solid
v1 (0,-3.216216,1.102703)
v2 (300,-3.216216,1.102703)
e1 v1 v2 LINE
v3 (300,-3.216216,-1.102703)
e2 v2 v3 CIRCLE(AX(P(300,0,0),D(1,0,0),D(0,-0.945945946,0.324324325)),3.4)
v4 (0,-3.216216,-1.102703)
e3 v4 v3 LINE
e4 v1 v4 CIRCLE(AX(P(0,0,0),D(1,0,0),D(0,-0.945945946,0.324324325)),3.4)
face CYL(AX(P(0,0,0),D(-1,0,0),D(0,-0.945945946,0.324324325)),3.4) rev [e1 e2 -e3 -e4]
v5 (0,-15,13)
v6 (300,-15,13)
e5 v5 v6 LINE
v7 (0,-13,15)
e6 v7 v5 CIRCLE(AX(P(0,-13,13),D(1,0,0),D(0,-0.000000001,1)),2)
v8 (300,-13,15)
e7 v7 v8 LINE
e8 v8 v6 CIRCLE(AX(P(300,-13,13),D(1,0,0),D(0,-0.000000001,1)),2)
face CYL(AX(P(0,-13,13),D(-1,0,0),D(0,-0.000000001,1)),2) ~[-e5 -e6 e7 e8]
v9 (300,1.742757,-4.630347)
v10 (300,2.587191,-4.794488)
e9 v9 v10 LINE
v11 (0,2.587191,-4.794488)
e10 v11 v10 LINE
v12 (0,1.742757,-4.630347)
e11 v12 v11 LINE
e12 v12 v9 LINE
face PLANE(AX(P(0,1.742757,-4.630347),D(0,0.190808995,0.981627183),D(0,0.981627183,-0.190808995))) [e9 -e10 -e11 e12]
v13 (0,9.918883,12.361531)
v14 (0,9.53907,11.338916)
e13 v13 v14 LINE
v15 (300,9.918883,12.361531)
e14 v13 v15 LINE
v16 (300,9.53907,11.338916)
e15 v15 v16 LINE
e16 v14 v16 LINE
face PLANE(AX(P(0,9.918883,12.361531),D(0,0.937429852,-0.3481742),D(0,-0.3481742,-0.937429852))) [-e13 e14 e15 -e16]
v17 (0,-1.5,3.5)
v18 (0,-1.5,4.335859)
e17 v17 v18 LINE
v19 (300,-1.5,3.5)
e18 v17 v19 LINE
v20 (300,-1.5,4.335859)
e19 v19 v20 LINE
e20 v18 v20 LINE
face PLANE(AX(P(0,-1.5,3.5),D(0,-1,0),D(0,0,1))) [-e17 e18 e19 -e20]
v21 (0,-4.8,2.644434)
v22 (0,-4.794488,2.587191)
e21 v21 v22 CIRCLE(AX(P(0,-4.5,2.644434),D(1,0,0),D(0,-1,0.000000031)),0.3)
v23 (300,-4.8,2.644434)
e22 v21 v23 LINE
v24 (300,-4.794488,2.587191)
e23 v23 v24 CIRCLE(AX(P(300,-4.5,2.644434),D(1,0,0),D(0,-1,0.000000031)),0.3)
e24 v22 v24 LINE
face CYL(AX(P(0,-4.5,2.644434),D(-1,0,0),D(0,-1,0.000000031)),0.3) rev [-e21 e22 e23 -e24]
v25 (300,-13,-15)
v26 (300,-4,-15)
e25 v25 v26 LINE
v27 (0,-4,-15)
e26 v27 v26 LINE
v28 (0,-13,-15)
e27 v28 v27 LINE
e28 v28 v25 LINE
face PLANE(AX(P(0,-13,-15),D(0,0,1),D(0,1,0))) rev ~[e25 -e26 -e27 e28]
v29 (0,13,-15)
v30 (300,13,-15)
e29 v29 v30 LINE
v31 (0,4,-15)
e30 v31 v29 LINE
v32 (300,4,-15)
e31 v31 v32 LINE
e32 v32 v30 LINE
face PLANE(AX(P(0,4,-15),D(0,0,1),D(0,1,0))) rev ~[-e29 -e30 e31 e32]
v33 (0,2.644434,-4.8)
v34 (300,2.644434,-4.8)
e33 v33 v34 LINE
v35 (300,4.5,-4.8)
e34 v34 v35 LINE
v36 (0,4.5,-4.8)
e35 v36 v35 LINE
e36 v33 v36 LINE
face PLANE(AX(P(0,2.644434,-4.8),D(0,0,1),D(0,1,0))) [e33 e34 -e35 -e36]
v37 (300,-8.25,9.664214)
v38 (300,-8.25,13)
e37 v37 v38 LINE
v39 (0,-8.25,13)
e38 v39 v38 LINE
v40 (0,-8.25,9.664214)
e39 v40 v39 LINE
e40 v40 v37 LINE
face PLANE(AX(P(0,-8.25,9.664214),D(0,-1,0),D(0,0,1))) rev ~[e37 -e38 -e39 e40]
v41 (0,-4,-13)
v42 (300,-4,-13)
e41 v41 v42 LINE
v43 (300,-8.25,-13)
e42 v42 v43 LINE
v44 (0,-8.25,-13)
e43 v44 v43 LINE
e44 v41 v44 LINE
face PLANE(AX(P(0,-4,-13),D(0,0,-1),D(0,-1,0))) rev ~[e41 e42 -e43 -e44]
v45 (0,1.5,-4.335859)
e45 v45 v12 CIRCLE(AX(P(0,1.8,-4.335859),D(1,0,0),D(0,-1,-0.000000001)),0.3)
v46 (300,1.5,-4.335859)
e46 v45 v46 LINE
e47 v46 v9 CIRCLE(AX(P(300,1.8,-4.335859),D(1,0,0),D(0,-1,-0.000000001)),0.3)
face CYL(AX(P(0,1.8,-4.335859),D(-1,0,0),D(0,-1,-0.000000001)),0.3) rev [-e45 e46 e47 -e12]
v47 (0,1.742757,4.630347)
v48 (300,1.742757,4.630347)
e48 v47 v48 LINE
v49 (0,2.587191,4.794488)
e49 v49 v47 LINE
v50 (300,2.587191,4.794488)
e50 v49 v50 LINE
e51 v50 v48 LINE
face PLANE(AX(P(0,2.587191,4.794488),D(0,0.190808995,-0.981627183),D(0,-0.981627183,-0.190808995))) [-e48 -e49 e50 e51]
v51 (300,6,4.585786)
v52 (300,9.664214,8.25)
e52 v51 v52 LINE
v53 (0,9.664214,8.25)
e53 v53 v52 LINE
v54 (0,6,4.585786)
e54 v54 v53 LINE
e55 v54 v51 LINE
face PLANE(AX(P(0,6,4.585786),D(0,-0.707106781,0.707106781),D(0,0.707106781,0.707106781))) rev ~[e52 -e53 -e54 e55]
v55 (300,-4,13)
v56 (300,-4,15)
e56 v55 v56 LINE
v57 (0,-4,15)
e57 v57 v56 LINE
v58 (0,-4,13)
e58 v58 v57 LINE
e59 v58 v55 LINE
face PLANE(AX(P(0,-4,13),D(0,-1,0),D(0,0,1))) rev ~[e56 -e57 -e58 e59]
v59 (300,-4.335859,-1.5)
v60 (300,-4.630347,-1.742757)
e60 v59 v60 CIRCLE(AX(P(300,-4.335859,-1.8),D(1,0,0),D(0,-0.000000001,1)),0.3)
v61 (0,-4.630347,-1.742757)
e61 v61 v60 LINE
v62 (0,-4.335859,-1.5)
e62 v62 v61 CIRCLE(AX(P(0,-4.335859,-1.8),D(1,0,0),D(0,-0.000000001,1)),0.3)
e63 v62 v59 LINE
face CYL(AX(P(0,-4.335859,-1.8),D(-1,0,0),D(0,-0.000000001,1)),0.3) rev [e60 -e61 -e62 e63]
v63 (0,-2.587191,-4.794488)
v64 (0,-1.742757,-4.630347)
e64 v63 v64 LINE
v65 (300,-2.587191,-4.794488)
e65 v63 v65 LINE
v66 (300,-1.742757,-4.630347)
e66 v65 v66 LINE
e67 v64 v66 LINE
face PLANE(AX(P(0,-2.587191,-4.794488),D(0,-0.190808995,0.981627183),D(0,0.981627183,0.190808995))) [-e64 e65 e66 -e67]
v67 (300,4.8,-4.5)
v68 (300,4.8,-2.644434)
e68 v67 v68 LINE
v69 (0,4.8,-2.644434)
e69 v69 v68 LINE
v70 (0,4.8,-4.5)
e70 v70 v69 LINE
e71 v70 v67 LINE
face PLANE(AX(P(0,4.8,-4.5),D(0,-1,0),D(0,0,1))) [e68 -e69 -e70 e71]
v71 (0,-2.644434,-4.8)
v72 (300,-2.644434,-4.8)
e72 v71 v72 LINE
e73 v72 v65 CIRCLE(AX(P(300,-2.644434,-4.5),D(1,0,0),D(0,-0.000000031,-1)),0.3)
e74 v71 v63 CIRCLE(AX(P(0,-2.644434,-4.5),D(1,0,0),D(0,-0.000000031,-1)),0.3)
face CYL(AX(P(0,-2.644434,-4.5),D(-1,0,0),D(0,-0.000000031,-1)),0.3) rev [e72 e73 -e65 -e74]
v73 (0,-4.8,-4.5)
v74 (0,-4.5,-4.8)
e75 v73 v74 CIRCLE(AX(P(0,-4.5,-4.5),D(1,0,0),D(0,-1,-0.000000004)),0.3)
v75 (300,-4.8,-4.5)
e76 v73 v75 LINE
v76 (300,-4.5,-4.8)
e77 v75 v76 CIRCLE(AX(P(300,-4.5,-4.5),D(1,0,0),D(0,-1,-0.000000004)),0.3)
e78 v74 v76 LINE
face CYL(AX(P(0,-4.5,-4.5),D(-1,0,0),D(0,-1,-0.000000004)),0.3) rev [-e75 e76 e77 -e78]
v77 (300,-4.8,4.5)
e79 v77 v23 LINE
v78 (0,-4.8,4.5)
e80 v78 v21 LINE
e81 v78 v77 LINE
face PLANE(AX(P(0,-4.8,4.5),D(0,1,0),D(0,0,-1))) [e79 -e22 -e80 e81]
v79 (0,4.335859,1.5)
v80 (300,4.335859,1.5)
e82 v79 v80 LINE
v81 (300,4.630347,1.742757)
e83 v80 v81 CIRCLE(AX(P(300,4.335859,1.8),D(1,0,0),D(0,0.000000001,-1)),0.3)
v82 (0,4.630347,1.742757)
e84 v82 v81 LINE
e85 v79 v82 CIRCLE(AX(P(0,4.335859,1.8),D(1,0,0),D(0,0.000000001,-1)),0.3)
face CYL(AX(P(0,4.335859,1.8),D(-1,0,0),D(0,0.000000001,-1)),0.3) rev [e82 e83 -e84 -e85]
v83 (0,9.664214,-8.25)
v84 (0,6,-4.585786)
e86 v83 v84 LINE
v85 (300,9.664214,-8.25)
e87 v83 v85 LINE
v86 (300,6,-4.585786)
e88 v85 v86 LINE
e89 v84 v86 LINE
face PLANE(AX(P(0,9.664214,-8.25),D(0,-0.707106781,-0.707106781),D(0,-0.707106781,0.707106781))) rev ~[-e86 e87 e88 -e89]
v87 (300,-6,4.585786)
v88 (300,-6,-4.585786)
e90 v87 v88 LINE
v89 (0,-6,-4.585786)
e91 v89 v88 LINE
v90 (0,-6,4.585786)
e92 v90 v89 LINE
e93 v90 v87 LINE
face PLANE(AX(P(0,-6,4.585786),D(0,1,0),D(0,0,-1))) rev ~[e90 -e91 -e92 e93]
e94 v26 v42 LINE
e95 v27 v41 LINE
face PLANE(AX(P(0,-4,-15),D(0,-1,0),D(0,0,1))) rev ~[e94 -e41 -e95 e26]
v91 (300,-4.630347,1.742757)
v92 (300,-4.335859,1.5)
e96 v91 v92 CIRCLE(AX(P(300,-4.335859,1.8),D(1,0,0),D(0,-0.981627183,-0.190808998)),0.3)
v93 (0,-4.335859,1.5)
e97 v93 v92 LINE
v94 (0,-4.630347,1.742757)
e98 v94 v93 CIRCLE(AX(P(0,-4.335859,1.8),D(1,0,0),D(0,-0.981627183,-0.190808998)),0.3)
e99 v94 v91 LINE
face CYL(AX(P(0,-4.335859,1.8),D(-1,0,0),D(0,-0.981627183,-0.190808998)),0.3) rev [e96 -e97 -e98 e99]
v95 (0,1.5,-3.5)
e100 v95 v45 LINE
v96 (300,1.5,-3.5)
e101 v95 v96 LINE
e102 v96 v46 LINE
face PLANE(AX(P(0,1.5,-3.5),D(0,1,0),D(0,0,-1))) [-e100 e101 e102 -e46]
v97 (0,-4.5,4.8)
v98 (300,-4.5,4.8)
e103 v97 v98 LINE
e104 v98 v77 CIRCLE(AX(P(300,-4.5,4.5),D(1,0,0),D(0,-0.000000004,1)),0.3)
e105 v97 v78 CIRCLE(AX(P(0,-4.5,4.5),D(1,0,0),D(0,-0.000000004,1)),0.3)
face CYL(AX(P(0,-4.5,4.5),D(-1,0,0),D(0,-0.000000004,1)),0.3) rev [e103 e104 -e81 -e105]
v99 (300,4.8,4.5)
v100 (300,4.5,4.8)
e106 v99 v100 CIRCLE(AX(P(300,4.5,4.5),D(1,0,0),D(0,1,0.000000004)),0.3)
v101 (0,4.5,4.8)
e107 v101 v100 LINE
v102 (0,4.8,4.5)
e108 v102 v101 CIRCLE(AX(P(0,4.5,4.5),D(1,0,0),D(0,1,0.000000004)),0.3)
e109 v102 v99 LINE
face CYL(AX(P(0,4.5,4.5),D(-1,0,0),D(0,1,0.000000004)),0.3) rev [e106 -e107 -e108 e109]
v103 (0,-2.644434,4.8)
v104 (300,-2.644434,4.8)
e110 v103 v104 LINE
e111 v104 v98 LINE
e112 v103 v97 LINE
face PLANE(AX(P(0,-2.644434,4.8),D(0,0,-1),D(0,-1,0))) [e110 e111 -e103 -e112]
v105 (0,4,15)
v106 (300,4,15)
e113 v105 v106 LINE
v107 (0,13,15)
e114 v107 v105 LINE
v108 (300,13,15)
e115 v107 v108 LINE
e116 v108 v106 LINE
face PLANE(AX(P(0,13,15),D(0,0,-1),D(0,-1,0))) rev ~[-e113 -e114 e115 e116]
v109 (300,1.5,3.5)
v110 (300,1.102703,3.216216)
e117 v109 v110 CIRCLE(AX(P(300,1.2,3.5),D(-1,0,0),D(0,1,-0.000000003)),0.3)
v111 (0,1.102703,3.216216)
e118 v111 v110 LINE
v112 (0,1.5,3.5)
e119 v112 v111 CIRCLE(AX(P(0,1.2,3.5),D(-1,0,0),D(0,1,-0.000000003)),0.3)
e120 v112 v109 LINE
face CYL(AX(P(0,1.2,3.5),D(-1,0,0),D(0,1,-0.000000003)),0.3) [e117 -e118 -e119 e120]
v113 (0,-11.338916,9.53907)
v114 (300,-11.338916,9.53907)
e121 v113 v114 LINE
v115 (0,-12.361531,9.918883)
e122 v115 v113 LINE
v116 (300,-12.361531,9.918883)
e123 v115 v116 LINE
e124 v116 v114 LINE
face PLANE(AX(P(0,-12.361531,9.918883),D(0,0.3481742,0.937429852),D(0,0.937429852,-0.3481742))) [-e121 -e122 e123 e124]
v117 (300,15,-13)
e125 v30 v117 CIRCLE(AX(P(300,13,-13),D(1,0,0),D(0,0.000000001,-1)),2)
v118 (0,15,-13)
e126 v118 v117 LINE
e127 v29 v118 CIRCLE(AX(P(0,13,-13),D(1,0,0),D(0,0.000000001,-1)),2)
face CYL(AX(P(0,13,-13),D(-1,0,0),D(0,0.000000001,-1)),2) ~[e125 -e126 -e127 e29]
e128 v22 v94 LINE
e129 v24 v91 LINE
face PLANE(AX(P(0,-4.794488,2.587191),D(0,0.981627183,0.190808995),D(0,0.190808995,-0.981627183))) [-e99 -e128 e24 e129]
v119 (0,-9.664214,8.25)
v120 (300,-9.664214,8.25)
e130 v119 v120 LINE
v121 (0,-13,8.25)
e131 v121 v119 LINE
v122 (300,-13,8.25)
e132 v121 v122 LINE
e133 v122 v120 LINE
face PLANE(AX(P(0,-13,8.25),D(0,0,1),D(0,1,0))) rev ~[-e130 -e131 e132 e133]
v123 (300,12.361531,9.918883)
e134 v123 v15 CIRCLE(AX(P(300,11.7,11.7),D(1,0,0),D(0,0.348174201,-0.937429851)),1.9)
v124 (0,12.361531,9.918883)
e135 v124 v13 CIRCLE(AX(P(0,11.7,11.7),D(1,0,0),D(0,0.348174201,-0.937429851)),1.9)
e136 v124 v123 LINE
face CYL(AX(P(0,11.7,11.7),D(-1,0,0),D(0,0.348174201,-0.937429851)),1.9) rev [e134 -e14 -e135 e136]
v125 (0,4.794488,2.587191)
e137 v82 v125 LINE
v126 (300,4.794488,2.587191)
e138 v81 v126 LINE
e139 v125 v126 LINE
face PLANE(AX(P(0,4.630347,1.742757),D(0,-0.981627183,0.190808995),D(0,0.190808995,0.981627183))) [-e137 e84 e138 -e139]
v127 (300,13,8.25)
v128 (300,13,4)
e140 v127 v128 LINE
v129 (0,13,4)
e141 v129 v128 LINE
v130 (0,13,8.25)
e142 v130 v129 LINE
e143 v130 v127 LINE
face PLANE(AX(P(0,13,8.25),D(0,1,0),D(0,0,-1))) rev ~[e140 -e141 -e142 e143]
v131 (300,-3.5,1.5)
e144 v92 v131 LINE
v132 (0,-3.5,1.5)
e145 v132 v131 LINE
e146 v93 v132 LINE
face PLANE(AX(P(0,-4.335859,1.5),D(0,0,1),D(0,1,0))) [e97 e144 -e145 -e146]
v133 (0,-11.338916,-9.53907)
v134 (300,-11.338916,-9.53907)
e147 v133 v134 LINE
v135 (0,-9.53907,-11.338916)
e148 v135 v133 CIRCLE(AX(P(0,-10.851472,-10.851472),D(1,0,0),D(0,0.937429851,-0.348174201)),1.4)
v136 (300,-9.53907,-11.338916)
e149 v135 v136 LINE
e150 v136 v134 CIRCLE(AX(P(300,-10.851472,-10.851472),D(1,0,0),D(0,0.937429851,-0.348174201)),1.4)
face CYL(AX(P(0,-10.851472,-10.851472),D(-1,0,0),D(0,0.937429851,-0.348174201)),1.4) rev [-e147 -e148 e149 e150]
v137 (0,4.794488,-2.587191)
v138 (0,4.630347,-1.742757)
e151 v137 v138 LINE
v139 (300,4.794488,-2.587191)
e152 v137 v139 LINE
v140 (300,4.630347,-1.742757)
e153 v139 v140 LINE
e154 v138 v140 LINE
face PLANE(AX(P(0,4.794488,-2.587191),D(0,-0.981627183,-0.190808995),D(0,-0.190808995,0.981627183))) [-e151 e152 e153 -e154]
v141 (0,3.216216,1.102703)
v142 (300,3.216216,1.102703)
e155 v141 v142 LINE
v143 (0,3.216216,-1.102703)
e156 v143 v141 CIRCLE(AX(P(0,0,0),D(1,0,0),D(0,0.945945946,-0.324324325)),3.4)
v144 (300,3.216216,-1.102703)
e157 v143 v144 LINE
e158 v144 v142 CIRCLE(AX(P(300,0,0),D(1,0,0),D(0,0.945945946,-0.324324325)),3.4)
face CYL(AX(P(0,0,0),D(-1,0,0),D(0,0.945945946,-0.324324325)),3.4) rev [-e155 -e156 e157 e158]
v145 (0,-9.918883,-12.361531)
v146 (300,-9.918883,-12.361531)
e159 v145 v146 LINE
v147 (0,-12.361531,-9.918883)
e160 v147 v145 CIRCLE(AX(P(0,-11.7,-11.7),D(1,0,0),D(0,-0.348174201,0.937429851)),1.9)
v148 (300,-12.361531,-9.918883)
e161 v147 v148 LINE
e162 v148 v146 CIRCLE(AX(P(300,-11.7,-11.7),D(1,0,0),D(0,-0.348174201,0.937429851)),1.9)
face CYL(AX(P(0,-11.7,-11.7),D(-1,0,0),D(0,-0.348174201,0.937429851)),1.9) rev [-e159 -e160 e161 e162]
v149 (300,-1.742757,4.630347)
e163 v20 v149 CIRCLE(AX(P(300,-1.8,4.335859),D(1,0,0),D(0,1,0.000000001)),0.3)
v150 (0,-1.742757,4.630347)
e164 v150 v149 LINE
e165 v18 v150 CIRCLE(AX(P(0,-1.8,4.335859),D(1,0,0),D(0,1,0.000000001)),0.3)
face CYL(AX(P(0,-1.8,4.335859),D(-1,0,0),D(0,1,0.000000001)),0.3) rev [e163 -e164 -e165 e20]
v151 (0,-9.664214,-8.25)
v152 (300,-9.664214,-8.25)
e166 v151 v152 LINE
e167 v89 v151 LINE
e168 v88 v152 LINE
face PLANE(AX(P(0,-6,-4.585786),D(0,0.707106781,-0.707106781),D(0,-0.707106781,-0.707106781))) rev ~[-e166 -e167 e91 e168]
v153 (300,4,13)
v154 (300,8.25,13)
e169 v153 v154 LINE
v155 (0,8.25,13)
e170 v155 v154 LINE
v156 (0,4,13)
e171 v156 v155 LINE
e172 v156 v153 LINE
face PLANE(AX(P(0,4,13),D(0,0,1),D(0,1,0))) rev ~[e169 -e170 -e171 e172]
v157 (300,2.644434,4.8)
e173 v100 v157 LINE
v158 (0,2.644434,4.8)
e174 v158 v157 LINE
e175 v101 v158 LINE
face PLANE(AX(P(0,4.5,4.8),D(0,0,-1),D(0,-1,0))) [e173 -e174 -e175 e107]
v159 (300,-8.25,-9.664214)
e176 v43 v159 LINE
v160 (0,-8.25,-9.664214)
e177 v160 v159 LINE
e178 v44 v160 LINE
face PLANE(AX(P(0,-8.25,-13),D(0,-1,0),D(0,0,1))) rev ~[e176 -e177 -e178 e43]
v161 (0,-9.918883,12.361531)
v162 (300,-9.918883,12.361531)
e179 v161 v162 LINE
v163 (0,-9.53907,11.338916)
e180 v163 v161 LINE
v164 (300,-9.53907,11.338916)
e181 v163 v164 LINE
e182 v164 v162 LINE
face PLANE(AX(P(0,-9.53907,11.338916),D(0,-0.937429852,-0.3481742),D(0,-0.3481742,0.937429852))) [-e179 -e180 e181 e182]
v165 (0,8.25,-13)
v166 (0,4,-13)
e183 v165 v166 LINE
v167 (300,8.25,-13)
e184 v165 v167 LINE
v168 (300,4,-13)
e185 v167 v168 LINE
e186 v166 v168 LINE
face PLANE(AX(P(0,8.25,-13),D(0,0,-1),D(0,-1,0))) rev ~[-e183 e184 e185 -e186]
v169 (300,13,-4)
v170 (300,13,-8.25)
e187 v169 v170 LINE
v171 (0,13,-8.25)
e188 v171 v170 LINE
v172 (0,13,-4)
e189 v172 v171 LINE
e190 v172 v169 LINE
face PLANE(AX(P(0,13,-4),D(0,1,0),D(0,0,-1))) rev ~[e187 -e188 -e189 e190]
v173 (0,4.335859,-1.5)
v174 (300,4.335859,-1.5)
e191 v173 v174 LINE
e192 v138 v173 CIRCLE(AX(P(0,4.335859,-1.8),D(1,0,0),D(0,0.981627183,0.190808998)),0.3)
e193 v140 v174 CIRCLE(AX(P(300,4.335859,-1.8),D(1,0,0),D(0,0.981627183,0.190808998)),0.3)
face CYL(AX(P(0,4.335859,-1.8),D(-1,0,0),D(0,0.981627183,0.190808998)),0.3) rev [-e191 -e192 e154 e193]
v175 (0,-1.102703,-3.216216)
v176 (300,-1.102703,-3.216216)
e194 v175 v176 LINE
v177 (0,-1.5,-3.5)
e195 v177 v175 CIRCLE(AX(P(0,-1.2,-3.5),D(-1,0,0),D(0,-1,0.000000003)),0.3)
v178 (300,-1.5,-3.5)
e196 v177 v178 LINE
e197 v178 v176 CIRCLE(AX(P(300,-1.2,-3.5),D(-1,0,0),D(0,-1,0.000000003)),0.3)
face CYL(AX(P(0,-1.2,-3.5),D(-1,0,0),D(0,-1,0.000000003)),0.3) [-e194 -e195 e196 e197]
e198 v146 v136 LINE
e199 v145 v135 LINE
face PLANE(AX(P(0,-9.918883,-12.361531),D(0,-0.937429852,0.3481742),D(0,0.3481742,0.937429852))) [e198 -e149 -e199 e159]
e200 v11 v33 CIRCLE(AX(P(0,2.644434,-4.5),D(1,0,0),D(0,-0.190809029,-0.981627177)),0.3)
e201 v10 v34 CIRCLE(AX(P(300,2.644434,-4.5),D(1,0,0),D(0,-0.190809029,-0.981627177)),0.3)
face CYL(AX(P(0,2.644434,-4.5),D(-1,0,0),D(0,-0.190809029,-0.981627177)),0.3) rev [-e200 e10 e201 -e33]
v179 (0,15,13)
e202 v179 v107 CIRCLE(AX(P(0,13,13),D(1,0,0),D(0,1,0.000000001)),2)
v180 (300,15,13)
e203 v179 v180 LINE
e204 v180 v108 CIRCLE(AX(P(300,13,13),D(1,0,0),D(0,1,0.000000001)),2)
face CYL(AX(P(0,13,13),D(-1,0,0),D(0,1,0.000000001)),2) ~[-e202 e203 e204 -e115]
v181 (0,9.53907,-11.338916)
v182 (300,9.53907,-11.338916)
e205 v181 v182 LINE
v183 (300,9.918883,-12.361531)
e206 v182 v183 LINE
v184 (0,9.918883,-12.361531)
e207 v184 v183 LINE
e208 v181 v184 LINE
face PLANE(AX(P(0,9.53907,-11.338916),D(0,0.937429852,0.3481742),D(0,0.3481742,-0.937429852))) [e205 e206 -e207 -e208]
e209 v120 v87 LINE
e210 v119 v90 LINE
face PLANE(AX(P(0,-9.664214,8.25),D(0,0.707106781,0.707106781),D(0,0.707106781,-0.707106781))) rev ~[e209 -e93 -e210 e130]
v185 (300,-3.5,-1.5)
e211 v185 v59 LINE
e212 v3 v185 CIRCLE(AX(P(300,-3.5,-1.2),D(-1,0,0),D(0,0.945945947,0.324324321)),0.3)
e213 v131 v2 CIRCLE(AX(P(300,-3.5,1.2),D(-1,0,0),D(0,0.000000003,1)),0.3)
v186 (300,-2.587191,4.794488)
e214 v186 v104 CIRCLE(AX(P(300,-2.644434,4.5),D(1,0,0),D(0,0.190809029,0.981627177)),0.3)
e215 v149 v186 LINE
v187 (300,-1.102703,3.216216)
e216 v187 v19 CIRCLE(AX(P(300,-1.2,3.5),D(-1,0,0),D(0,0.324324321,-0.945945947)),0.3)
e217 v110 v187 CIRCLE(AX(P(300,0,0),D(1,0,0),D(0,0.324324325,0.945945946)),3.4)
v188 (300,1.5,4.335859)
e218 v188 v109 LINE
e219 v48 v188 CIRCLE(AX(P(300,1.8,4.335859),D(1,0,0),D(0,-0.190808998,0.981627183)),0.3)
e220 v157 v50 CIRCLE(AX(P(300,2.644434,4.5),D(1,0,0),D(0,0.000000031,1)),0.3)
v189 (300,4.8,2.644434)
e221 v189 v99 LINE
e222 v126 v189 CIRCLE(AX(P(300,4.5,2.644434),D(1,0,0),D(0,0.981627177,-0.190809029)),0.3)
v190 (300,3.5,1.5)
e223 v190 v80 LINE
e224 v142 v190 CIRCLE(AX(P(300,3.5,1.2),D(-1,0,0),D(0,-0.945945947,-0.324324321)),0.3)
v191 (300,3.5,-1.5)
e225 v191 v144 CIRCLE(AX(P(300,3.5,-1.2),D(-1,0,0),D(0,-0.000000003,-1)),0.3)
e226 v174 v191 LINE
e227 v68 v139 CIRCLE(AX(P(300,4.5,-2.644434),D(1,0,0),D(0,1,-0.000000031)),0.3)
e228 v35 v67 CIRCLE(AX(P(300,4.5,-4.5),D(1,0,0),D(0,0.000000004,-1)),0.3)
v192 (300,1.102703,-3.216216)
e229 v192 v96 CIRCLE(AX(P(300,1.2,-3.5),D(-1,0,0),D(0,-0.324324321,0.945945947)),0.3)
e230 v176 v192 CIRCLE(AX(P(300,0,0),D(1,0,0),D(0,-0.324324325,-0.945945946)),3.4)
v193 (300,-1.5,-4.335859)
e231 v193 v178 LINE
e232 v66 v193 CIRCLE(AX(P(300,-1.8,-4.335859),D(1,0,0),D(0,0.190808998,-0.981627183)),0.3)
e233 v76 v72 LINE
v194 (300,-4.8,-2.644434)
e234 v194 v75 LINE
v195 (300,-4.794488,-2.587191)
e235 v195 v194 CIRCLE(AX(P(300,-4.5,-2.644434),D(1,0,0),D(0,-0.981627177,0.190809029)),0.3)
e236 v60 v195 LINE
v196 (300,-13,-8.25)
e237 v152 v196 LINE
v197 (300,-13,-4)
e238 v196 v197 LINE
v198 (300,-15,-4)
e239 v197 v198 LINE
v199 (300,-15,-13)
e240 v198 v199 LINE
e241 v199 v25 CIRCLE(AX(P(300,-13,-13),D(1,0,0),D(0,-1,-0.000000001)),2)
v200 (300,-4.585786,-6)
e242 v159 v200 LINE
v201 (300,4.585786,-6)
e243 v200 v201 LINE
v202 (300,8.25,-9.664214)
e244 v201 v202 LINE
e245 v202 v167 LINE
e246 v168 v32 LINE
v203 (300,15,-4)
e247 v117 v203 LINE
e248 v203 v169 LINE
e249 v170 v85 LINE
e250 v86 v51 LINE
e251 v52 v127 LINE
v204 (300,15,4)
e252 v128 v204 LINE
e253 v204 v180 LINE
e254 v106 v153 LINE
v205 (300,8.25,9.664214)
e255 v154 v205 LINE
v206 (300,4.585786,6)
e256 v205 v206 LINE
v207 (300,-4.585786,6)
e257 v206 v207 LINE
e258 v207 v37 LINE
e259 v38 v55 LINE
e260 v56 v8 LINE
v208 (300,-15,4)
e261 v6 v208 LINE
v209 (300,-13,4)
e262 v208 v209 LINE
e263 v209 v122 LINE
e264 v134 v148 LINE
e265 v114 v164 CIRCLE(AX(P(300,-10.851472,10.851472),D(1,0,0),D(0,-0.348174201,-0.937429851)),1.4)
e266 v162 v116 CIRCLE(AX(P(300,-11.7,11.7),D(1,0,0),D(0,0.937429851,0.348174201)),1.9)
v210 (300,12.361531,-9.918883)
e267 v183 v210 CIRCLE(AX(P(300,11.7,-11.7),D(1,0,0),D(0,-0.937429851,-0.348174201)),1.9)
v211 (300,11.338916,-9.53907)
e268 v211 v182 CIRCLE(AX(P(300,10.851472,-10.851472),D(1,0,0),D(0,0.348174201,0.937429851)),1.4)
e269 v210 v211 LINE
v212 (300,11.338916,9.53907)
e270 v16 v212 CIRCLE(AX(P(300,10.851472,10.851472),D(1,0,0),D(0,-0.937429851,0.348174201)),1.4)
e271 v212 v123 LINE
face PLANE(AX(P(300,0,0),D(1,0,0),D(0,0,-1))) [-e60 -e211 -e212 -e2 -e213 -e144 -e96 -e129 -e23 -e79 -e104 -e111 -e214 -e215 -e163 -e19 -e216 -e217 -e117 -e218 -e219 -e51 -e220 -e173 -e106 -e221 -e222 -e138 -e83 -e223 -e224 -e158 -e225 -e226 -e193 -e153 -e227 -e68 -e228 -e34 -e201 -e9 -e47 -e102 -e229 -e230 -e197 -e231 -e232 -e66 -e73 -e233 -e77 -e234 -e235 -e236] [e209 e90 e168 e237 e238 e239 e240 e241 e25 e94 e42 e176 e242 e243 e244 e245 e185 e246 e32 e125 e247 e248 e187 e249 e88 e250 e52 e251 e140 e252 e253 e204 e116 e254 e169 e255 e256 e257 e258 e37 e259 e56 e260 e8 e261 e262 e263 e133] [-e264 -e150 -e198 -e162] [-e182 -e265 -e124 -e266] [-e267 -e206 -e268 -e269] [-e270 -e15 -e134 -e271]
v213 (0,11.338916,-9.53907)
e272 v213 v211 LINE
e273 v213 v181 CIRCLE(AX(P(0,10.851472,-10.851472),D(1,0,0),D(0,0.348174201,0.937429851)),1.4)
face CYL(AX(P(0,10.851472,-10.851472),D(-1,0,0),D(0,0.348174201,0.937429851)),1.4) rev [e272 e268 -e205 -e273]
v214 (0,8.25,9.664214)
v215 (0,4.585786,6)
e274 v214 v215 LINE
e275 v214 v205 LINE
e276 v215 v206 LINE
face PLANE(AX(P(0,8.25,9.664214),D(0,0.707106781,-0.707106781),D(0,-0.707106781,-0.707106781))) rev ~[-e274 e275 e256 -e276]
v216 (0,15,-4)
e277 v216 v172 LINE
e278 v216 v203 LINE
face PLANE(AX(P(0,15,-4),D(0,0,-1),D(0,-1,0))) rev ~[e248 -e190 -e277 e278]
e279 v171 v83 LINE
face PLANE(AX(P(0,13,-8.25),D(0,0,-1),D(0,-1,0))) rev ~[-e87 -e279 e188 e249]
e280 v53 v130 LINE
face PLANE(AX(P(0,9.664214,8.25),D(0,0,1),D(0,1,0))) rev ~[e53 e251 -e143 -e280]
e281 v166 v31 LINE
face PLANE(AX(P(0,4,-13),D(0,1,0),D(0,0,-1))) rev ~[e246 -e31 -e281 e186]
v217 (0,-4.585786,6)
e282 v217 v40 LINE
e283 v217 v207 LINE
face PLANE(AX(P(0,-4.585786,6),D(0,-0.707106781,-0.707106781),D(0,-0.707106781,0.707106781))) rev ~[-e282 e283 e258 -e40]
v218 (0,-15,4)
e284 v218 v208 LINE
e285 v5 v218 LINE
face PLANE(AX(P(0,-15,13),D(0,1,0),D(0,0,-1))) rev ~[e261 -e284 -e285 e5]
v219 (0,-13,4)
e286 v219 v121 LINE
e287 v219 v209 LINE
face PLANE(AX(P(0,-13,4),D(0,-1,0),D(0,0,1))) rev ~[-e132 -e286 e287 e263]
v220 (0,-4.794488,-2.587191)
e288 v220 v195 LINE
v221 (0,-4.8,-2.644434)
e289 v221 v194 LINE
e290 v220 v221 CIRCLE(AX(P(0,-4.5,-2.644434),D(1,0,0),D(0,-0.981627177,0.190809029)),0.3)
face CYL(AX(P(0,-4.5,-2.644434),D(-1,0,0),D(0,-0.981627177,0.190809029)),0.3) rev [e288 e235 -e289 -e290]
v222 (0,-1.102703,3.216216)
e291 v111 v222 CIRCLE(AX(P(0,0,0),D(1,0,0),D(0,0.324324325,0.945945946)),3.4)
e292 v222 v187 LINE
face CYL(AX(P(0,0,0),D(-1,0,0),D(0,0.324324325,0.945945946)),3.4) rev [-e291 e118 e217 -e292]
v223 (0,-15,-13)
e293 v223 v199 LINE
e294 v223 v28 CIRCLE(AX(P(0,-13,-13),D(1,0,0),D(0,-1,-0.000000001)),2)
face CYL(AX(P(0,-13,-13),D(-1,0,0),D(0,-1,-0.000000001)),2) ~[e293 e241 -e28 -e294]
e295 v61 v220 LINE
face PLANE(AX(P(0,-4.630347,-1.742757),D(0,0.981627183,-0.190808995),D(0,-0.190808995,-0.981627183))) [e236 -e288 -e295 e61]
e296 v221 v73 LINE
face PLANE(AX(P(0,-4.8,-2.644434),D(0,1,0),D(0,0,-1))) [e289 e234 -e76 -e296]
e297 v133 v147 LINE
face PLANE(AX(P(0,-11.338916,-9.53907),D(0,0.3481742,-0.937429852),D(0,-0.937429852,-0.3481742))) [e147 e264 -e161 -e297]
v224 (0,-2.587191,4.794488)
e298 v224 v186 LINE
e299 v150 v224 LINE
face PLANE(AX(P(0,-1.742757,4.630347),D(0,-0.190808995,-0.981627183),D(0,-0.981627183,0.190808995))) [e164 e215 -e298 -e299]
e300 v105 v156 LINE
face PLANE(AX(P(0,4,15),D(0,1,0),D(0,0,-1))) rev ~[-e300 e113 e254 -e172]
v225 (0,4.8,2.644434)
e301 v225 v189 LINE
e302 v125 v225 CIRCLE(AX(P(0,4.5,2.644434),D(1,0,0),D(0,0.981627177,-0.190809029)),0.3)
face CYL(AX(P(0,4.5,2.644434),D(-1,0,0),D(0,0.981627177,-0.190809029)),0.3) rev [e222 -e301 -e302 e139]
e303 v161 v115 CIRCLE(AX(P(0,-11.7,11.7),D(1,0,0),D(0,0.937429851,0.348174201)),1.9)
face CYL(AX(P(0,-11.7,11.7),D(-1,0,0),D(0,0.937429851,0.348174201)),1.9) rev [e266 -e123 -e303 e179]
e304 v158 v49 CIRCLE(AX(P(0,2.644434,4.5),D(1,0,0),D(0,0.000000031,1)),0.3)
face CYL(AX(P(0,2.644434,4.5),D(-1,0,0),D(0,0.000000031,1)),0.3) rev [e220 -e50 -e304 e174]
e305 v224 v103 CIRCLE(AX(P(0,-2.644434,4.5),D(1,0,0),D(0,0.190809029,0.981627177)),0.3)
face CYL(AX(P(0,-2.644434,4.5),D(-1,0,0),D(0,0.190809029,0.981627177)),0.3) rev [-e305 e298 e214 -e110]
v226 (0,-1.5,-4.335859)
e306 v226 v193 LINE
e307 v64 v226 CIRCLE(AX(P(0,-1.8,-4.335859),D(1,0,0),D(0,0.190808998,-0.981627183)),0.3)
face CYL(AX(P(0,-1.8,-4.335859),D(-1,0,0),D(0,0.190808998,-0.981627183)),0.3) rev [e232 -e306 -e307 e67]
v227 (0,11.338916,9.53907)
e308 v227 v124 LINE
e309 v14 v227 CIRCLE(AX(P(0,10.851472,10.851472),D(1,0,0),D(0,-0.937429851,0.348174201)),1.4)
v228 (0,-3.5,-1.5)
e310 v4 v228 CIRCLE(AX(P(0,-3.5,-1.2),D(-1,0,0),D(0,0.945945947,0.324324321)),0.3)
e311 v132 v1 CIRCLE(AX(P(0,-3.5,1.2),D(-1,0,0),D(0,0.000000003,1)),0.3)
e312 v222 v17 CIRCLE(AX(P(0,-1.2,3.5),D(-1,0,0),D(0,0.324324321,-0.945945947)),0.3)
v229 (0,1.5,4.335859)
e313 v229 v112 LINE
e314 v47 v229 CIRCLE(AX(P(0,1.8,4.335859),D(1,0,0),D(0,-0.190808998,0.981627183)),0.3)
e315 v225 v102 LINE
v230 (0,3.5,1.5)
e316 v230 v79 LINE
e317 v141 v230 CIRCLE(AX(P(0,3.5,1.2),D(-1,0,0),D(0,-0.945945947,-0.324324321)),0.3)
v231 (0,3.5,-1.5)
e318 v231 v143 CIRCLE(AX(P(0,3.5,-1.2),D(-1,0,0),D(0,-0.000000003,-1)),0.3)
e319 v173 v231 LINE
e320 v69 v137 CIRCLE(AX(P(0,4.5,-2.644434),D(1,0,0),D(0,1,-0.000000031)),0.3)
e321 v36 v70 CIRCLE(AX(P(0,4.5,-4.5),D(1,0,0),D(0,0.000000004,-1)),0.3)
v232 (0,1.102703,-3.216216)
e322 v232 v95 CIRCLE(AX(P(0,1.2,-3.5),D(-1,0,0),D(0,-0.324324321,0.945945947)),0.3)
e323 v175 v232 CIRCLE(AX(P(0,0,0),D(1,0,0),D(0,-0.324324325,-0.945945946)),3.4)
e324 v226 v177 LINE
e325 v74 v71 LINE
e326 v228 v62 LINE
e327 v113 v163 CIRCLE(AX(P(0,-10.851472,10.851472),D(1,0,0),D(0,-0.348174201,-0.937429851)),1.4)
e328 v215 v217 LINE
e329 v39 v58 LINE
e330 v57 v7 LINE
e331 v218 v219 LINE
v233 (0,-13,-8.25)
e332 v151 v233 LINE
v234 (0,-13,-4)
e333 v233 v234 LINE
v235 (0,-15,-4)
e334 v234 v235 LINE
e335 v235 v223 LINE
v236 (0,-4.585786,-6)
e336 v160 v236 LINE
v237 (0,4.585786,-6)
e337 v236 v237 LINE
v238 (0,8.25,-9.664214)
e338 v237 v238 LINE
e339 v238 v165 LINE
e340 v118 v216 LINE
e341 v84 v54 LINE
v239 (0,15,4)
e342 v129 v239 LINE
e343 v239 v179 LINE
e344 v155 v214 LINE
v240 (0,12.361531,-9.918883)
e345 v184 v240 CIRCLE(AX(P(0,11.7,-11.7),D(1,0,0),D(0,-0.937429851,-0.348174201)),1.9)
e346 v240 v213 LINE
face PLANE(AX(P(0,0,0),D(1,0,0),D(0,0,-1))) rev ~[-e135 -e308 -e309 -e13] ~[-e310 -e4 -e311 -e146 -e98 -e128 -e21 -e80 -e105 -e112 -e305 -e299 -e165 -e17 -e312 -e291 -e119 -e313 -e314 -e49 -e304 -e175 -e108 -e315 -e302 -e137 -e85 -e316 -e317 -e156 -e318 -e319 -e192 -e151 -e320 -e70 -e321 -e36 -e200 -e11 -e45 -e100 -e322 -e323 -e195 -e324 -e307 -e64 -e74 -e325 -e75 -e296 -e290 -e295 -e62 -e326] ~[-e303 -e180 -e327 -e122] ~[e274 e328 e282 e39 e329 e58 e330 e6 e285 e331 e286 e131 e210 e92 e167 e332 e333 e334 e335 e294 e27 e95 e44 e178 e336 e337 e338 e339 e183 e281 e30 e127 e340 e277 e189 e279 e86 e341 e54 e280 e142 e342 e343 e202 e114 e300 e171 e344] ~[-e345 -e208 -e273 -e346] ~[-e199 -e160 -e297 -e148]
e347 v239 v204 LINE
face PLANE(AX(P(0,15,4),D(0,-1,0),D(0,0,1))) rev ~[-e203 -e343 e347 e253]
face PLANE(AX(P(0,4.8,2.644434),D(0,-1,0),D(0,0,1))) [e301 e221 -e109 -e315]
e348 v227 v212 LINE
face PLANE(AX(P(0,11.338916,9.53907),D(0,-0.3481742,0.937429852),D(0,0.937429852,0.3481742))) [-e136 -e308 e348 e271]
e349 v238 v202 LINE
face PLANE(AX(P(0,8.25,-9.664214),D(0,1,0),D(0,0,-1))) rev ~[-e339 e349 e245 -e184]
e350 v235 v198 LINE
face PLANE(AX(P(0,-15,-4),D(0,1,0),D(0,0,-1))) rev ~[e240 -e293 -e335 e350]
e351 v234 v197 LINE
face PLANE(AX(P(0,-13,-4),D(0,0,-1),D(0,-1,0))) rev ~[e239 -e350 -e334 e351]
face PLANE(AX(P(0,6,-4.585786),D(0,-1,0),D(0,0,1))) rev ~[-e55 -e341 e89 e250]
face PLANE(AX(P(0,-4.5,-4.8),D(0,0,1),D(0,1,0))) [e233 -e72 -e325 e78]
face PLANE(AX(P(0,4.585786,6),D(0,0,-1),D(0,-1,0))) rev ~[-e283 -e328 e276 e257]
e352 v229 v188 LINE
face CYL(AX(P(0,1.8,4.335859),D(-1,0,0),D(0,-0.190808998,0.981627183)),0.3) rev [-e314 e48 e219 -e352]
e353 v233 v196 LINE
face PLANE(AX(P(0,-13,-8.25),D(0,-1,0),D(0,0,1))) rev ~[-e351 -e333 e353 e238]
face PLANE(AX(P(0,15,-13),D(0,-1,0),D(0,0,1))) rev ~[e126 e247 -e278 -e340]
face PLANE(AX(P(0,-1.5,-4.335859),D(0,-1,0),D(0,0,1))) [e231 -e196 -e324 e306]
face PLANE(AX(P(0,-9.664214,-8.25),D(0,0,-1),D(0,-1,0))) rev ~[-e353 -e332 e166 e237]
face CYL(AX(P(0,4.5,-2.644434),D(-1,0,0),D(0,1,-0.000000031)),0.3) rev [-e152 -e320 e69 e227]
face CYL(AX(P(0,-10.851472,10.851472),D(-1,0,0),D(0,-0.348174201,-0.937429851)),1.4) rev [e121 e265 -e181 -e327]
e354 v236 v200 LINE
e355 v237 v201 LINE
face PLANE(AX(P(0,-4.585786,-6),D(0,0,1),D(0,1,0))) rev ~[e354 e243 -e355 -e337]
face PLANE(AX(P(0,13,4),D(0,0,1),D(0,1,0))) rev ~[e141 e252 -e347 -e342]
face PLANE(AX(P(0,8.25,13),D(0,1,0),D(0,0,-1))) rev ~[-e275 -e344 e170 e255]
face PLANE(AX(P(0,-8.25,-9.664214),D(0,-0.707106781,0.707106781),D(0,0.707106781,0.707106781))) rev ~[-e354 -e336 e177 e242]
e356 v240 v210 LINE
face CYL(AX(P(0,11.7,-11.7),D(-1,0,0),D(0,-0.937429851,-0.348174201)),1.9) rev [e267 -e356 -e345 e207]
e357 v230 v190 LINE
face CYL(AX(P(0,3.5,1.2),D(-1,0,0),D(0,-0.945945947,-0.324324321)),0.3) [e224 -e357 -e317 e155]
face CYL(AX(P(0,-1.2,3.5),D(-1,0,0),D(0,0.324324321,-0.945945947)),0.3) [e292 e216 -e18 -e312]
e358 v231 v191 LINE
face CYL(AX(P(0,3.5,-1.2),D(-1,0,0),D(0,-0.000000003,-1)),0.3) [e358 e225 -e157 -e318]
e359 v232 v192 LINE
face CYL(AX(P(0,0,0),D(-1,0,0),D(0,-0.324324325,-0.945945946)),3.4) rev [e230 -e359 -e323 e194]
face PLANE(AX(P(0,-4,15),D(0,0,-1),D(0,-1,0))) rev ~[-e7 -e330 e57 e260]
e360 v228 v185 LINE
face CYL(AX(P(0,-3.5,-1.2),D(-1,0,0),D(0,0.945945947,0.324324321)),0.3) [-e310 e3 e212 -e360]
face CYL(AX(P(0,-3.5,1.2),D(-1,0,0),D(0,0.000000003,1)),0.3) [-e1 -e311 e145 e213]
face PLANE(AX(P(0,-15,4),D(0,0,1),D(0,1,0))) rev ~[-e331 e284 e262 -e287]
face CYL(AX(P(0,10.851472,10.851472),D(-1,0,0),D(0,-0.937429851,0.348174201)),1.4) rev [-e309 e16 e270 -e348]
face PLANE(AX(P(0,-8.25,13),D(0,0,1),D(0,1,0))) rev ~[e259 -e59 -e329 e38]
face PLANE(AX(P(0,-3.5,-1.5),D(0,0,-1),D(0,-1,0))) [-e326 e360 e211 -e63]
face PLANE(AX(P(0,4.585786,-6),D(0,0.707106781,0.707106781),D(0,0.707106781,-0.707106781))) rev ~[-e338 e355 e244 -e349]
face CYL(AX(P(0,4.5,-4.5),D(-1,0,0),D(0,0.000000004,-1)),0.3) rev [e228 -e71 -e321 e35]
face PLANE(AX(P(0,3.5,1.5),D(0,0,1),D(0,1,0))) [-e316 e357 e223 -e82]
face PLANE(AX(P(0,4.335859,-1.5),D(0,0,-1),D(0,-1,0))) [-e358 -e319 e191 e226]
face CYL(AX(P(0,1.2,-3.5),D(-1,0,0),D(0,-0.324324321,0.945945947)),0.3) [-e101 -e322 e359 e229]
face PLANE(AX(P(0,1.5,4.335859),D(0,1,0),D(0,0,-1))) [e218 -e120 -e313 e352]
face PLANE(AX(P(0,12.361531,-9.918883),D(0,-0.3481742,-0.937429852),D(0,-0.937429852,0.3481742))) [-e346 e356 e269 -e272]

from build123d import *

# Parameters (mm, degrees)
BOSS_EXTRUDE1_DEPTH = 300


with BuildPart() as part:
    # Sketch1 → Boss-Extrude1 (new body)
    with BuildSketch(Plane(origin=(0, 0, 0), x_dir=(0, 0, -1), z_dir=(1, 0, 0))):
        with BuildLine():
            Line((-15, 13), (-15, 4))
            Line((-15, 4), (-13, 4))
            Line((-13, 4), (-13, 8.25))
            Line((-13, 8.25), (-9.664213562, 8.25))
            Line((-9.664213562, 8.25), (-6, 4.585786438))
            Line((-6, 4.585786438), (-6, -4.585786438))
            Line((-6, -4.585786438), (-9.664213562, -8.25))
            Line((-9.664213562, -8.25), (-13, -8.25))
            Line((-13, -8.25), (-13, -4))
            Line((-13, -4), (-15, -4))
            Line((-15, -4), (-15, -13))
            ThreePointArc((-15, -13), (-14.414213562, -14.414213562), (-13, -15))
            Line((-13, -15), (-4, -15))
            Line((-4, -15), (-4, -13))
            Line((-4, -13), (-8.25, -13))
            Line((-8.25, -13), (-8.25, -9.664213562))
            Line((-8.25, -9.664213562), (-4.585786438, -6))
            Line((-4.585786438, -6), (4.585786438, -6))
            Line((4.585786438, -6), (8.25, -9.664213562))
            Line((8.25, -9.664213562), (8.25, -13))
            Line((8.25, -13), (4, -13))
            Line((4, -13), (4, -15))
            Line((4, -15), (13, -15))
            ThreePointArc((13, -15), (14.414213562, -14.414213562), (15, -13))
            Line((15, -13), (15, -4))
            Line((15, -4), (13, -4))
            Line((13, -4), (13, -8.25))
            Line((13, -8.25), (9.664213562, -8.25))
            Line((9.664213562, -8.25), (6, -4.585786438))
            Line((6, -4.585786438), (6, 4.585786438))
            Line((6, 4.585786438), (9.664213562, 8.25))
            Line((9.664213562, 8.25), (13, 8.25))
            Line((13, 8.25), (13, 4))
            Line((13, 4), (15, 4))
            Line((15, 4), (15, 13))
            ThreePointArc((15, 13), (14.414213562, 14.414213562), (13, 15))
            Line((13, 15), (4, 15))
            Line((4, 15), (4, 13))
            Line((4, 13), (8.25, 13))
            Line((8.25, 13), (8.25, 9.664213562))
            Line((8.25, 9.664213562), (4.585786438, 6))
            Line((4.585786438, 6), (-4.585786438, 6))
            Line((-4.585786438, 6), (-8.25, 9.664213562))
            Line((-8.25, 9.664213562), (-8.25, 13))
            Line((-8.25, 13), (-4, 13))
            Line((-4, 13), (-4, 15))
            Line((-4, 15), (-13, 15))
            ThreePointArc((-13, 15), (-14.414213562, 14.414213562), (-15, 13))
        make_face()
        with BuildLine():
            Line((-9.539070071, 11.338915743), (-9.918883282, 12.361530981))
            ThreePointArc((-9.918883282, 12.361530981), (-13.043502884, 13.043502884), (-12.361530981, 9.918883282))
            Line((-12.361530981, 9.918883282), (-11.338915743, 9.539070071))
            ThreePointArc((-11.338915743, 9.539070071), (-9.861522369, 9.861522369), (-9.539070071, 11.338915743))
        make_face(mode=Mode.SUBTRACT)
        with BuildLine():
            Line((9.918883282, 12.361530981), (9.539070071, 11.338915743))
            ThreePointArc((9.539070071, 11.338915743), (9.861522369, 9.861522369), (11.338915743, 9.539070071))
            Line((11.338915743, 9.539070071), (12.361530981, 9.918883282))
            ThreePointArc((12.361530981, 9.918883282), (13.043502884, 13.043502884), (9.918883282, 12.361530981))
        make_face(mode=Mode.SUBTRACT)
        with BuildLine():
            Line((12.361530981, -9.918883282), (11.338915743, -9.539070071))
            ThreePointArc((11.338915743, -9.539070071), (9.861522369, -9.861522369), (9.539070071, -11.338915743))
            Line((9.539070071, -11.338915743), (9.918883282, -12.361530981))
            ThreePointArc((9.918883282, -12.361530981), (13.043502884, -13.043502884), (12.361530981, -9.918883282))
        make_face(mode=Mode.SUBTRACT)
        with BuildLine():
            Line((-11.338915743, -9.539070071), (-12.361530981, -9.918883282))
            ThreePointArc((-12.361530981, -9.918883282), (-13.043502884, -13.043502884), (-9.918883282, -12.361530981))
            Line((-9.918883282, -12.361530981), (-9.539070071, -11.338915743))
            ThreePointArc((-9.539070071, -11.338915743), (-9.861522369, -9.861522369), (-11.338915743, -9.539070071))
        make_face(mode=Mode.SUBTRACT)
        with BuildLine():
            Line((-4.8, -2.644433572), (-4.8, -4.5))
            ThreePointArc((-4.8, -4.5), (-4.712132034, -4.712132034), (-4.5, -4.8))
            Line((-4.5, -4.8), (-2.644433572, -4.8))
            ThreePointArc((-2.644433572, -4.8), (-2.615679847, -4.79861886), (-2.587190874, -4.794488155))
            Line((-2.587190874, -4.794488155), (-1.742757301, -4.630346896))
            ThreePointArc((-1.742757301, -4.630346896), (-1.568512625, -4.526682207), (-1.5, -4.335858741))
            Line((-1.5, -4.335858741), (-1.5, -3.5))
            ThreePointArc((-1.5, -3.5), (-1.374371458, -3.255879959), (-1.102702703, -3.216216216))
            ThreePointArc((-1.102702703, -3.216216216), (0, -3.4), (1.102702703, -3.216216216))
            ThreePointArc((1.102702703, -3.216216216), (1.374371458, -3.255879959), (1.5, -3.5))
            Line((1.5, -3.5), (1.5, -4.335858741))
            ThreePointArc((1.5, -4.335858741), (1.568512625, -4.526682207), (1.742757301, -4.630346896))
            Line((1.742757301, -4.630346896), (2.587190874, -4.794488155))
            ThreePointArc((2.587190874, -4.794488155), (2.615679847, -4.79861886), (2.644433572, -4.8))
            Line((2.644433572, -4.8), (4.5, -4.8))
            ThreePointArc((4.5, -4.8), (4.712132034, -4.712132034), (4.8, -4.5))
            Line((4.8, -4.5), (4.8, -2.644433572))
            ThreePointArc((4.8, -2.644433572), (4.79861886, -2.615679847), (4.794488155, -2.587190874))
            Line((4.794488155, -2.587190874), (4.630346896, -1.742757301))
            ThreePointArc((4.630346896, -1.742757301), (4.526682207, -1.568512625), (4.335858741, -1.5))
            Line((4.335858741, -1.5), (3.5, -1.5))
            ThreePointArc((3.5, -1.5), (3.255879959, -1.374371458), (3.216216216, -1.102702703))
            ThreePointArc((3.216216216, -1.102702703), (3.4, 0), (3.216216216, 1.102702703))
            ThreePointArc((3.216216216, 1.102702703), (3.255879959, 1.374371458), (3.5, 1.5))
            Line((3.5, 1.5), (4.335858741, 1.5))
            ThreePointArc((4.335858741, 1.5), (4.526682207, 1.568512625), (4.630346896, 1.742757301))
            Line((4.630346896, 1.742757301), (4.794488155, 2.587190874))
            ThreePointArc((4.794488155, 2.587190874), (4.79861886, 2.615679847), (4.8, 2.644433572))
            Line((4.8, 2.644433572), (4.8, 4.5))
            ThreePointArc((4.8, 4.5), (4.712132034, 4.712132034), (4.5, 4.8))
            Line((4.5, 4.8), (2.644433572, 4.8))
            ThreePointArc((2.644433572, 4.8), (2.615679847, 4.79861886), (2.587190874, 4.794488155))
            Line((2.587190874, 4.794488155), (1.742757301, 4.630346896))
            ThreePointArc((1.742757301, 4.630346896), (1.568512625, 4.526682207), (1.5, 4.335858741))
            Line((1.5, 4.335858741), (1.5, 3.5))
            ThreePointArc((1.5, 3.5), (1.374371458, 3.255879959), (1.102702703, 3.216216216))
            ThreePointArc((1.102702703, 3.216216216), (0, 3.4), (-1.102702703, 3.216216216))
            ThreePointArc((-1.102702703, 3.216216216), (-1.374371458, 3.255879959), (-1.5, 3.5))
            Line((-1.5, 3.5), (-1.5, 4.335858741))
            ThreePointArc((-1.5, 4.335858741), (-1.568512625, 4.526682207), (-1.742757301, 4.630346896))
            Line((-1.742757301, 4.630346896), (-2.587190874, 4.794488155))
            ThreePointArc((-2.587190874, 4.794488155), (-2.615679847, 4.79861886), (-2.644433572, 4.8))
            Line((-2.644433572, 4.8), (-4.5, 4.8))
            ThreePointArc((-4.5, 4.8), (-4.712132034, 4.712132034), (-4.8, 4.5))
            Line((-4.8, 4.5), (-4.8, 2.644433572))
            ThreePointArc((-4.8, 2.644433572), (-4.79861886, 2.615679847), (-4.794488155, 2.587190874))
            Line((-4.794488155, 2.587190874), (-4.630346896, 1.742757301))
            ThreePointArc((-4.630346896, 1.742757301), (-4.526682207, 1.568512625), (-4.335858741, 1.5))
            Line((-4.335858741, 1.5), (-3.5, 1.5))
            ThreePointArc((-3.5, 1.5), (-3.255879959, 1.374371458), (-3.216216216, 1.102702703))
            ThreePointArc((-3.216216216, 1.102702703), (-3.4, 0), (-3.216216216, -1.102702703))
            ThreePointArc((-3.216216216, -1.102702703), (-3.255879959, -1.374371458), (-3.5, -1.5))
            Line((-3.5, -1.5), (-4.335858741, -1.5))
            ThreePointArc((-4.335858741, -1.5), (-4.526682207, -1.568512625), (-4.630346896, -1.742757301))
            Line((-4.630346896, -1.742757301), (-4.794488155, -2.587190874))
            ThreePointArc((-4.794488155, -2.587190874), (-4.79861886, -2.615679847), (-4.8, -2.644433572))
        make_face(mode=Mode.SUBTRACT)
    extrude(amount=BOSS_EXTRUDE1_DEPTH)


solid = part.part
